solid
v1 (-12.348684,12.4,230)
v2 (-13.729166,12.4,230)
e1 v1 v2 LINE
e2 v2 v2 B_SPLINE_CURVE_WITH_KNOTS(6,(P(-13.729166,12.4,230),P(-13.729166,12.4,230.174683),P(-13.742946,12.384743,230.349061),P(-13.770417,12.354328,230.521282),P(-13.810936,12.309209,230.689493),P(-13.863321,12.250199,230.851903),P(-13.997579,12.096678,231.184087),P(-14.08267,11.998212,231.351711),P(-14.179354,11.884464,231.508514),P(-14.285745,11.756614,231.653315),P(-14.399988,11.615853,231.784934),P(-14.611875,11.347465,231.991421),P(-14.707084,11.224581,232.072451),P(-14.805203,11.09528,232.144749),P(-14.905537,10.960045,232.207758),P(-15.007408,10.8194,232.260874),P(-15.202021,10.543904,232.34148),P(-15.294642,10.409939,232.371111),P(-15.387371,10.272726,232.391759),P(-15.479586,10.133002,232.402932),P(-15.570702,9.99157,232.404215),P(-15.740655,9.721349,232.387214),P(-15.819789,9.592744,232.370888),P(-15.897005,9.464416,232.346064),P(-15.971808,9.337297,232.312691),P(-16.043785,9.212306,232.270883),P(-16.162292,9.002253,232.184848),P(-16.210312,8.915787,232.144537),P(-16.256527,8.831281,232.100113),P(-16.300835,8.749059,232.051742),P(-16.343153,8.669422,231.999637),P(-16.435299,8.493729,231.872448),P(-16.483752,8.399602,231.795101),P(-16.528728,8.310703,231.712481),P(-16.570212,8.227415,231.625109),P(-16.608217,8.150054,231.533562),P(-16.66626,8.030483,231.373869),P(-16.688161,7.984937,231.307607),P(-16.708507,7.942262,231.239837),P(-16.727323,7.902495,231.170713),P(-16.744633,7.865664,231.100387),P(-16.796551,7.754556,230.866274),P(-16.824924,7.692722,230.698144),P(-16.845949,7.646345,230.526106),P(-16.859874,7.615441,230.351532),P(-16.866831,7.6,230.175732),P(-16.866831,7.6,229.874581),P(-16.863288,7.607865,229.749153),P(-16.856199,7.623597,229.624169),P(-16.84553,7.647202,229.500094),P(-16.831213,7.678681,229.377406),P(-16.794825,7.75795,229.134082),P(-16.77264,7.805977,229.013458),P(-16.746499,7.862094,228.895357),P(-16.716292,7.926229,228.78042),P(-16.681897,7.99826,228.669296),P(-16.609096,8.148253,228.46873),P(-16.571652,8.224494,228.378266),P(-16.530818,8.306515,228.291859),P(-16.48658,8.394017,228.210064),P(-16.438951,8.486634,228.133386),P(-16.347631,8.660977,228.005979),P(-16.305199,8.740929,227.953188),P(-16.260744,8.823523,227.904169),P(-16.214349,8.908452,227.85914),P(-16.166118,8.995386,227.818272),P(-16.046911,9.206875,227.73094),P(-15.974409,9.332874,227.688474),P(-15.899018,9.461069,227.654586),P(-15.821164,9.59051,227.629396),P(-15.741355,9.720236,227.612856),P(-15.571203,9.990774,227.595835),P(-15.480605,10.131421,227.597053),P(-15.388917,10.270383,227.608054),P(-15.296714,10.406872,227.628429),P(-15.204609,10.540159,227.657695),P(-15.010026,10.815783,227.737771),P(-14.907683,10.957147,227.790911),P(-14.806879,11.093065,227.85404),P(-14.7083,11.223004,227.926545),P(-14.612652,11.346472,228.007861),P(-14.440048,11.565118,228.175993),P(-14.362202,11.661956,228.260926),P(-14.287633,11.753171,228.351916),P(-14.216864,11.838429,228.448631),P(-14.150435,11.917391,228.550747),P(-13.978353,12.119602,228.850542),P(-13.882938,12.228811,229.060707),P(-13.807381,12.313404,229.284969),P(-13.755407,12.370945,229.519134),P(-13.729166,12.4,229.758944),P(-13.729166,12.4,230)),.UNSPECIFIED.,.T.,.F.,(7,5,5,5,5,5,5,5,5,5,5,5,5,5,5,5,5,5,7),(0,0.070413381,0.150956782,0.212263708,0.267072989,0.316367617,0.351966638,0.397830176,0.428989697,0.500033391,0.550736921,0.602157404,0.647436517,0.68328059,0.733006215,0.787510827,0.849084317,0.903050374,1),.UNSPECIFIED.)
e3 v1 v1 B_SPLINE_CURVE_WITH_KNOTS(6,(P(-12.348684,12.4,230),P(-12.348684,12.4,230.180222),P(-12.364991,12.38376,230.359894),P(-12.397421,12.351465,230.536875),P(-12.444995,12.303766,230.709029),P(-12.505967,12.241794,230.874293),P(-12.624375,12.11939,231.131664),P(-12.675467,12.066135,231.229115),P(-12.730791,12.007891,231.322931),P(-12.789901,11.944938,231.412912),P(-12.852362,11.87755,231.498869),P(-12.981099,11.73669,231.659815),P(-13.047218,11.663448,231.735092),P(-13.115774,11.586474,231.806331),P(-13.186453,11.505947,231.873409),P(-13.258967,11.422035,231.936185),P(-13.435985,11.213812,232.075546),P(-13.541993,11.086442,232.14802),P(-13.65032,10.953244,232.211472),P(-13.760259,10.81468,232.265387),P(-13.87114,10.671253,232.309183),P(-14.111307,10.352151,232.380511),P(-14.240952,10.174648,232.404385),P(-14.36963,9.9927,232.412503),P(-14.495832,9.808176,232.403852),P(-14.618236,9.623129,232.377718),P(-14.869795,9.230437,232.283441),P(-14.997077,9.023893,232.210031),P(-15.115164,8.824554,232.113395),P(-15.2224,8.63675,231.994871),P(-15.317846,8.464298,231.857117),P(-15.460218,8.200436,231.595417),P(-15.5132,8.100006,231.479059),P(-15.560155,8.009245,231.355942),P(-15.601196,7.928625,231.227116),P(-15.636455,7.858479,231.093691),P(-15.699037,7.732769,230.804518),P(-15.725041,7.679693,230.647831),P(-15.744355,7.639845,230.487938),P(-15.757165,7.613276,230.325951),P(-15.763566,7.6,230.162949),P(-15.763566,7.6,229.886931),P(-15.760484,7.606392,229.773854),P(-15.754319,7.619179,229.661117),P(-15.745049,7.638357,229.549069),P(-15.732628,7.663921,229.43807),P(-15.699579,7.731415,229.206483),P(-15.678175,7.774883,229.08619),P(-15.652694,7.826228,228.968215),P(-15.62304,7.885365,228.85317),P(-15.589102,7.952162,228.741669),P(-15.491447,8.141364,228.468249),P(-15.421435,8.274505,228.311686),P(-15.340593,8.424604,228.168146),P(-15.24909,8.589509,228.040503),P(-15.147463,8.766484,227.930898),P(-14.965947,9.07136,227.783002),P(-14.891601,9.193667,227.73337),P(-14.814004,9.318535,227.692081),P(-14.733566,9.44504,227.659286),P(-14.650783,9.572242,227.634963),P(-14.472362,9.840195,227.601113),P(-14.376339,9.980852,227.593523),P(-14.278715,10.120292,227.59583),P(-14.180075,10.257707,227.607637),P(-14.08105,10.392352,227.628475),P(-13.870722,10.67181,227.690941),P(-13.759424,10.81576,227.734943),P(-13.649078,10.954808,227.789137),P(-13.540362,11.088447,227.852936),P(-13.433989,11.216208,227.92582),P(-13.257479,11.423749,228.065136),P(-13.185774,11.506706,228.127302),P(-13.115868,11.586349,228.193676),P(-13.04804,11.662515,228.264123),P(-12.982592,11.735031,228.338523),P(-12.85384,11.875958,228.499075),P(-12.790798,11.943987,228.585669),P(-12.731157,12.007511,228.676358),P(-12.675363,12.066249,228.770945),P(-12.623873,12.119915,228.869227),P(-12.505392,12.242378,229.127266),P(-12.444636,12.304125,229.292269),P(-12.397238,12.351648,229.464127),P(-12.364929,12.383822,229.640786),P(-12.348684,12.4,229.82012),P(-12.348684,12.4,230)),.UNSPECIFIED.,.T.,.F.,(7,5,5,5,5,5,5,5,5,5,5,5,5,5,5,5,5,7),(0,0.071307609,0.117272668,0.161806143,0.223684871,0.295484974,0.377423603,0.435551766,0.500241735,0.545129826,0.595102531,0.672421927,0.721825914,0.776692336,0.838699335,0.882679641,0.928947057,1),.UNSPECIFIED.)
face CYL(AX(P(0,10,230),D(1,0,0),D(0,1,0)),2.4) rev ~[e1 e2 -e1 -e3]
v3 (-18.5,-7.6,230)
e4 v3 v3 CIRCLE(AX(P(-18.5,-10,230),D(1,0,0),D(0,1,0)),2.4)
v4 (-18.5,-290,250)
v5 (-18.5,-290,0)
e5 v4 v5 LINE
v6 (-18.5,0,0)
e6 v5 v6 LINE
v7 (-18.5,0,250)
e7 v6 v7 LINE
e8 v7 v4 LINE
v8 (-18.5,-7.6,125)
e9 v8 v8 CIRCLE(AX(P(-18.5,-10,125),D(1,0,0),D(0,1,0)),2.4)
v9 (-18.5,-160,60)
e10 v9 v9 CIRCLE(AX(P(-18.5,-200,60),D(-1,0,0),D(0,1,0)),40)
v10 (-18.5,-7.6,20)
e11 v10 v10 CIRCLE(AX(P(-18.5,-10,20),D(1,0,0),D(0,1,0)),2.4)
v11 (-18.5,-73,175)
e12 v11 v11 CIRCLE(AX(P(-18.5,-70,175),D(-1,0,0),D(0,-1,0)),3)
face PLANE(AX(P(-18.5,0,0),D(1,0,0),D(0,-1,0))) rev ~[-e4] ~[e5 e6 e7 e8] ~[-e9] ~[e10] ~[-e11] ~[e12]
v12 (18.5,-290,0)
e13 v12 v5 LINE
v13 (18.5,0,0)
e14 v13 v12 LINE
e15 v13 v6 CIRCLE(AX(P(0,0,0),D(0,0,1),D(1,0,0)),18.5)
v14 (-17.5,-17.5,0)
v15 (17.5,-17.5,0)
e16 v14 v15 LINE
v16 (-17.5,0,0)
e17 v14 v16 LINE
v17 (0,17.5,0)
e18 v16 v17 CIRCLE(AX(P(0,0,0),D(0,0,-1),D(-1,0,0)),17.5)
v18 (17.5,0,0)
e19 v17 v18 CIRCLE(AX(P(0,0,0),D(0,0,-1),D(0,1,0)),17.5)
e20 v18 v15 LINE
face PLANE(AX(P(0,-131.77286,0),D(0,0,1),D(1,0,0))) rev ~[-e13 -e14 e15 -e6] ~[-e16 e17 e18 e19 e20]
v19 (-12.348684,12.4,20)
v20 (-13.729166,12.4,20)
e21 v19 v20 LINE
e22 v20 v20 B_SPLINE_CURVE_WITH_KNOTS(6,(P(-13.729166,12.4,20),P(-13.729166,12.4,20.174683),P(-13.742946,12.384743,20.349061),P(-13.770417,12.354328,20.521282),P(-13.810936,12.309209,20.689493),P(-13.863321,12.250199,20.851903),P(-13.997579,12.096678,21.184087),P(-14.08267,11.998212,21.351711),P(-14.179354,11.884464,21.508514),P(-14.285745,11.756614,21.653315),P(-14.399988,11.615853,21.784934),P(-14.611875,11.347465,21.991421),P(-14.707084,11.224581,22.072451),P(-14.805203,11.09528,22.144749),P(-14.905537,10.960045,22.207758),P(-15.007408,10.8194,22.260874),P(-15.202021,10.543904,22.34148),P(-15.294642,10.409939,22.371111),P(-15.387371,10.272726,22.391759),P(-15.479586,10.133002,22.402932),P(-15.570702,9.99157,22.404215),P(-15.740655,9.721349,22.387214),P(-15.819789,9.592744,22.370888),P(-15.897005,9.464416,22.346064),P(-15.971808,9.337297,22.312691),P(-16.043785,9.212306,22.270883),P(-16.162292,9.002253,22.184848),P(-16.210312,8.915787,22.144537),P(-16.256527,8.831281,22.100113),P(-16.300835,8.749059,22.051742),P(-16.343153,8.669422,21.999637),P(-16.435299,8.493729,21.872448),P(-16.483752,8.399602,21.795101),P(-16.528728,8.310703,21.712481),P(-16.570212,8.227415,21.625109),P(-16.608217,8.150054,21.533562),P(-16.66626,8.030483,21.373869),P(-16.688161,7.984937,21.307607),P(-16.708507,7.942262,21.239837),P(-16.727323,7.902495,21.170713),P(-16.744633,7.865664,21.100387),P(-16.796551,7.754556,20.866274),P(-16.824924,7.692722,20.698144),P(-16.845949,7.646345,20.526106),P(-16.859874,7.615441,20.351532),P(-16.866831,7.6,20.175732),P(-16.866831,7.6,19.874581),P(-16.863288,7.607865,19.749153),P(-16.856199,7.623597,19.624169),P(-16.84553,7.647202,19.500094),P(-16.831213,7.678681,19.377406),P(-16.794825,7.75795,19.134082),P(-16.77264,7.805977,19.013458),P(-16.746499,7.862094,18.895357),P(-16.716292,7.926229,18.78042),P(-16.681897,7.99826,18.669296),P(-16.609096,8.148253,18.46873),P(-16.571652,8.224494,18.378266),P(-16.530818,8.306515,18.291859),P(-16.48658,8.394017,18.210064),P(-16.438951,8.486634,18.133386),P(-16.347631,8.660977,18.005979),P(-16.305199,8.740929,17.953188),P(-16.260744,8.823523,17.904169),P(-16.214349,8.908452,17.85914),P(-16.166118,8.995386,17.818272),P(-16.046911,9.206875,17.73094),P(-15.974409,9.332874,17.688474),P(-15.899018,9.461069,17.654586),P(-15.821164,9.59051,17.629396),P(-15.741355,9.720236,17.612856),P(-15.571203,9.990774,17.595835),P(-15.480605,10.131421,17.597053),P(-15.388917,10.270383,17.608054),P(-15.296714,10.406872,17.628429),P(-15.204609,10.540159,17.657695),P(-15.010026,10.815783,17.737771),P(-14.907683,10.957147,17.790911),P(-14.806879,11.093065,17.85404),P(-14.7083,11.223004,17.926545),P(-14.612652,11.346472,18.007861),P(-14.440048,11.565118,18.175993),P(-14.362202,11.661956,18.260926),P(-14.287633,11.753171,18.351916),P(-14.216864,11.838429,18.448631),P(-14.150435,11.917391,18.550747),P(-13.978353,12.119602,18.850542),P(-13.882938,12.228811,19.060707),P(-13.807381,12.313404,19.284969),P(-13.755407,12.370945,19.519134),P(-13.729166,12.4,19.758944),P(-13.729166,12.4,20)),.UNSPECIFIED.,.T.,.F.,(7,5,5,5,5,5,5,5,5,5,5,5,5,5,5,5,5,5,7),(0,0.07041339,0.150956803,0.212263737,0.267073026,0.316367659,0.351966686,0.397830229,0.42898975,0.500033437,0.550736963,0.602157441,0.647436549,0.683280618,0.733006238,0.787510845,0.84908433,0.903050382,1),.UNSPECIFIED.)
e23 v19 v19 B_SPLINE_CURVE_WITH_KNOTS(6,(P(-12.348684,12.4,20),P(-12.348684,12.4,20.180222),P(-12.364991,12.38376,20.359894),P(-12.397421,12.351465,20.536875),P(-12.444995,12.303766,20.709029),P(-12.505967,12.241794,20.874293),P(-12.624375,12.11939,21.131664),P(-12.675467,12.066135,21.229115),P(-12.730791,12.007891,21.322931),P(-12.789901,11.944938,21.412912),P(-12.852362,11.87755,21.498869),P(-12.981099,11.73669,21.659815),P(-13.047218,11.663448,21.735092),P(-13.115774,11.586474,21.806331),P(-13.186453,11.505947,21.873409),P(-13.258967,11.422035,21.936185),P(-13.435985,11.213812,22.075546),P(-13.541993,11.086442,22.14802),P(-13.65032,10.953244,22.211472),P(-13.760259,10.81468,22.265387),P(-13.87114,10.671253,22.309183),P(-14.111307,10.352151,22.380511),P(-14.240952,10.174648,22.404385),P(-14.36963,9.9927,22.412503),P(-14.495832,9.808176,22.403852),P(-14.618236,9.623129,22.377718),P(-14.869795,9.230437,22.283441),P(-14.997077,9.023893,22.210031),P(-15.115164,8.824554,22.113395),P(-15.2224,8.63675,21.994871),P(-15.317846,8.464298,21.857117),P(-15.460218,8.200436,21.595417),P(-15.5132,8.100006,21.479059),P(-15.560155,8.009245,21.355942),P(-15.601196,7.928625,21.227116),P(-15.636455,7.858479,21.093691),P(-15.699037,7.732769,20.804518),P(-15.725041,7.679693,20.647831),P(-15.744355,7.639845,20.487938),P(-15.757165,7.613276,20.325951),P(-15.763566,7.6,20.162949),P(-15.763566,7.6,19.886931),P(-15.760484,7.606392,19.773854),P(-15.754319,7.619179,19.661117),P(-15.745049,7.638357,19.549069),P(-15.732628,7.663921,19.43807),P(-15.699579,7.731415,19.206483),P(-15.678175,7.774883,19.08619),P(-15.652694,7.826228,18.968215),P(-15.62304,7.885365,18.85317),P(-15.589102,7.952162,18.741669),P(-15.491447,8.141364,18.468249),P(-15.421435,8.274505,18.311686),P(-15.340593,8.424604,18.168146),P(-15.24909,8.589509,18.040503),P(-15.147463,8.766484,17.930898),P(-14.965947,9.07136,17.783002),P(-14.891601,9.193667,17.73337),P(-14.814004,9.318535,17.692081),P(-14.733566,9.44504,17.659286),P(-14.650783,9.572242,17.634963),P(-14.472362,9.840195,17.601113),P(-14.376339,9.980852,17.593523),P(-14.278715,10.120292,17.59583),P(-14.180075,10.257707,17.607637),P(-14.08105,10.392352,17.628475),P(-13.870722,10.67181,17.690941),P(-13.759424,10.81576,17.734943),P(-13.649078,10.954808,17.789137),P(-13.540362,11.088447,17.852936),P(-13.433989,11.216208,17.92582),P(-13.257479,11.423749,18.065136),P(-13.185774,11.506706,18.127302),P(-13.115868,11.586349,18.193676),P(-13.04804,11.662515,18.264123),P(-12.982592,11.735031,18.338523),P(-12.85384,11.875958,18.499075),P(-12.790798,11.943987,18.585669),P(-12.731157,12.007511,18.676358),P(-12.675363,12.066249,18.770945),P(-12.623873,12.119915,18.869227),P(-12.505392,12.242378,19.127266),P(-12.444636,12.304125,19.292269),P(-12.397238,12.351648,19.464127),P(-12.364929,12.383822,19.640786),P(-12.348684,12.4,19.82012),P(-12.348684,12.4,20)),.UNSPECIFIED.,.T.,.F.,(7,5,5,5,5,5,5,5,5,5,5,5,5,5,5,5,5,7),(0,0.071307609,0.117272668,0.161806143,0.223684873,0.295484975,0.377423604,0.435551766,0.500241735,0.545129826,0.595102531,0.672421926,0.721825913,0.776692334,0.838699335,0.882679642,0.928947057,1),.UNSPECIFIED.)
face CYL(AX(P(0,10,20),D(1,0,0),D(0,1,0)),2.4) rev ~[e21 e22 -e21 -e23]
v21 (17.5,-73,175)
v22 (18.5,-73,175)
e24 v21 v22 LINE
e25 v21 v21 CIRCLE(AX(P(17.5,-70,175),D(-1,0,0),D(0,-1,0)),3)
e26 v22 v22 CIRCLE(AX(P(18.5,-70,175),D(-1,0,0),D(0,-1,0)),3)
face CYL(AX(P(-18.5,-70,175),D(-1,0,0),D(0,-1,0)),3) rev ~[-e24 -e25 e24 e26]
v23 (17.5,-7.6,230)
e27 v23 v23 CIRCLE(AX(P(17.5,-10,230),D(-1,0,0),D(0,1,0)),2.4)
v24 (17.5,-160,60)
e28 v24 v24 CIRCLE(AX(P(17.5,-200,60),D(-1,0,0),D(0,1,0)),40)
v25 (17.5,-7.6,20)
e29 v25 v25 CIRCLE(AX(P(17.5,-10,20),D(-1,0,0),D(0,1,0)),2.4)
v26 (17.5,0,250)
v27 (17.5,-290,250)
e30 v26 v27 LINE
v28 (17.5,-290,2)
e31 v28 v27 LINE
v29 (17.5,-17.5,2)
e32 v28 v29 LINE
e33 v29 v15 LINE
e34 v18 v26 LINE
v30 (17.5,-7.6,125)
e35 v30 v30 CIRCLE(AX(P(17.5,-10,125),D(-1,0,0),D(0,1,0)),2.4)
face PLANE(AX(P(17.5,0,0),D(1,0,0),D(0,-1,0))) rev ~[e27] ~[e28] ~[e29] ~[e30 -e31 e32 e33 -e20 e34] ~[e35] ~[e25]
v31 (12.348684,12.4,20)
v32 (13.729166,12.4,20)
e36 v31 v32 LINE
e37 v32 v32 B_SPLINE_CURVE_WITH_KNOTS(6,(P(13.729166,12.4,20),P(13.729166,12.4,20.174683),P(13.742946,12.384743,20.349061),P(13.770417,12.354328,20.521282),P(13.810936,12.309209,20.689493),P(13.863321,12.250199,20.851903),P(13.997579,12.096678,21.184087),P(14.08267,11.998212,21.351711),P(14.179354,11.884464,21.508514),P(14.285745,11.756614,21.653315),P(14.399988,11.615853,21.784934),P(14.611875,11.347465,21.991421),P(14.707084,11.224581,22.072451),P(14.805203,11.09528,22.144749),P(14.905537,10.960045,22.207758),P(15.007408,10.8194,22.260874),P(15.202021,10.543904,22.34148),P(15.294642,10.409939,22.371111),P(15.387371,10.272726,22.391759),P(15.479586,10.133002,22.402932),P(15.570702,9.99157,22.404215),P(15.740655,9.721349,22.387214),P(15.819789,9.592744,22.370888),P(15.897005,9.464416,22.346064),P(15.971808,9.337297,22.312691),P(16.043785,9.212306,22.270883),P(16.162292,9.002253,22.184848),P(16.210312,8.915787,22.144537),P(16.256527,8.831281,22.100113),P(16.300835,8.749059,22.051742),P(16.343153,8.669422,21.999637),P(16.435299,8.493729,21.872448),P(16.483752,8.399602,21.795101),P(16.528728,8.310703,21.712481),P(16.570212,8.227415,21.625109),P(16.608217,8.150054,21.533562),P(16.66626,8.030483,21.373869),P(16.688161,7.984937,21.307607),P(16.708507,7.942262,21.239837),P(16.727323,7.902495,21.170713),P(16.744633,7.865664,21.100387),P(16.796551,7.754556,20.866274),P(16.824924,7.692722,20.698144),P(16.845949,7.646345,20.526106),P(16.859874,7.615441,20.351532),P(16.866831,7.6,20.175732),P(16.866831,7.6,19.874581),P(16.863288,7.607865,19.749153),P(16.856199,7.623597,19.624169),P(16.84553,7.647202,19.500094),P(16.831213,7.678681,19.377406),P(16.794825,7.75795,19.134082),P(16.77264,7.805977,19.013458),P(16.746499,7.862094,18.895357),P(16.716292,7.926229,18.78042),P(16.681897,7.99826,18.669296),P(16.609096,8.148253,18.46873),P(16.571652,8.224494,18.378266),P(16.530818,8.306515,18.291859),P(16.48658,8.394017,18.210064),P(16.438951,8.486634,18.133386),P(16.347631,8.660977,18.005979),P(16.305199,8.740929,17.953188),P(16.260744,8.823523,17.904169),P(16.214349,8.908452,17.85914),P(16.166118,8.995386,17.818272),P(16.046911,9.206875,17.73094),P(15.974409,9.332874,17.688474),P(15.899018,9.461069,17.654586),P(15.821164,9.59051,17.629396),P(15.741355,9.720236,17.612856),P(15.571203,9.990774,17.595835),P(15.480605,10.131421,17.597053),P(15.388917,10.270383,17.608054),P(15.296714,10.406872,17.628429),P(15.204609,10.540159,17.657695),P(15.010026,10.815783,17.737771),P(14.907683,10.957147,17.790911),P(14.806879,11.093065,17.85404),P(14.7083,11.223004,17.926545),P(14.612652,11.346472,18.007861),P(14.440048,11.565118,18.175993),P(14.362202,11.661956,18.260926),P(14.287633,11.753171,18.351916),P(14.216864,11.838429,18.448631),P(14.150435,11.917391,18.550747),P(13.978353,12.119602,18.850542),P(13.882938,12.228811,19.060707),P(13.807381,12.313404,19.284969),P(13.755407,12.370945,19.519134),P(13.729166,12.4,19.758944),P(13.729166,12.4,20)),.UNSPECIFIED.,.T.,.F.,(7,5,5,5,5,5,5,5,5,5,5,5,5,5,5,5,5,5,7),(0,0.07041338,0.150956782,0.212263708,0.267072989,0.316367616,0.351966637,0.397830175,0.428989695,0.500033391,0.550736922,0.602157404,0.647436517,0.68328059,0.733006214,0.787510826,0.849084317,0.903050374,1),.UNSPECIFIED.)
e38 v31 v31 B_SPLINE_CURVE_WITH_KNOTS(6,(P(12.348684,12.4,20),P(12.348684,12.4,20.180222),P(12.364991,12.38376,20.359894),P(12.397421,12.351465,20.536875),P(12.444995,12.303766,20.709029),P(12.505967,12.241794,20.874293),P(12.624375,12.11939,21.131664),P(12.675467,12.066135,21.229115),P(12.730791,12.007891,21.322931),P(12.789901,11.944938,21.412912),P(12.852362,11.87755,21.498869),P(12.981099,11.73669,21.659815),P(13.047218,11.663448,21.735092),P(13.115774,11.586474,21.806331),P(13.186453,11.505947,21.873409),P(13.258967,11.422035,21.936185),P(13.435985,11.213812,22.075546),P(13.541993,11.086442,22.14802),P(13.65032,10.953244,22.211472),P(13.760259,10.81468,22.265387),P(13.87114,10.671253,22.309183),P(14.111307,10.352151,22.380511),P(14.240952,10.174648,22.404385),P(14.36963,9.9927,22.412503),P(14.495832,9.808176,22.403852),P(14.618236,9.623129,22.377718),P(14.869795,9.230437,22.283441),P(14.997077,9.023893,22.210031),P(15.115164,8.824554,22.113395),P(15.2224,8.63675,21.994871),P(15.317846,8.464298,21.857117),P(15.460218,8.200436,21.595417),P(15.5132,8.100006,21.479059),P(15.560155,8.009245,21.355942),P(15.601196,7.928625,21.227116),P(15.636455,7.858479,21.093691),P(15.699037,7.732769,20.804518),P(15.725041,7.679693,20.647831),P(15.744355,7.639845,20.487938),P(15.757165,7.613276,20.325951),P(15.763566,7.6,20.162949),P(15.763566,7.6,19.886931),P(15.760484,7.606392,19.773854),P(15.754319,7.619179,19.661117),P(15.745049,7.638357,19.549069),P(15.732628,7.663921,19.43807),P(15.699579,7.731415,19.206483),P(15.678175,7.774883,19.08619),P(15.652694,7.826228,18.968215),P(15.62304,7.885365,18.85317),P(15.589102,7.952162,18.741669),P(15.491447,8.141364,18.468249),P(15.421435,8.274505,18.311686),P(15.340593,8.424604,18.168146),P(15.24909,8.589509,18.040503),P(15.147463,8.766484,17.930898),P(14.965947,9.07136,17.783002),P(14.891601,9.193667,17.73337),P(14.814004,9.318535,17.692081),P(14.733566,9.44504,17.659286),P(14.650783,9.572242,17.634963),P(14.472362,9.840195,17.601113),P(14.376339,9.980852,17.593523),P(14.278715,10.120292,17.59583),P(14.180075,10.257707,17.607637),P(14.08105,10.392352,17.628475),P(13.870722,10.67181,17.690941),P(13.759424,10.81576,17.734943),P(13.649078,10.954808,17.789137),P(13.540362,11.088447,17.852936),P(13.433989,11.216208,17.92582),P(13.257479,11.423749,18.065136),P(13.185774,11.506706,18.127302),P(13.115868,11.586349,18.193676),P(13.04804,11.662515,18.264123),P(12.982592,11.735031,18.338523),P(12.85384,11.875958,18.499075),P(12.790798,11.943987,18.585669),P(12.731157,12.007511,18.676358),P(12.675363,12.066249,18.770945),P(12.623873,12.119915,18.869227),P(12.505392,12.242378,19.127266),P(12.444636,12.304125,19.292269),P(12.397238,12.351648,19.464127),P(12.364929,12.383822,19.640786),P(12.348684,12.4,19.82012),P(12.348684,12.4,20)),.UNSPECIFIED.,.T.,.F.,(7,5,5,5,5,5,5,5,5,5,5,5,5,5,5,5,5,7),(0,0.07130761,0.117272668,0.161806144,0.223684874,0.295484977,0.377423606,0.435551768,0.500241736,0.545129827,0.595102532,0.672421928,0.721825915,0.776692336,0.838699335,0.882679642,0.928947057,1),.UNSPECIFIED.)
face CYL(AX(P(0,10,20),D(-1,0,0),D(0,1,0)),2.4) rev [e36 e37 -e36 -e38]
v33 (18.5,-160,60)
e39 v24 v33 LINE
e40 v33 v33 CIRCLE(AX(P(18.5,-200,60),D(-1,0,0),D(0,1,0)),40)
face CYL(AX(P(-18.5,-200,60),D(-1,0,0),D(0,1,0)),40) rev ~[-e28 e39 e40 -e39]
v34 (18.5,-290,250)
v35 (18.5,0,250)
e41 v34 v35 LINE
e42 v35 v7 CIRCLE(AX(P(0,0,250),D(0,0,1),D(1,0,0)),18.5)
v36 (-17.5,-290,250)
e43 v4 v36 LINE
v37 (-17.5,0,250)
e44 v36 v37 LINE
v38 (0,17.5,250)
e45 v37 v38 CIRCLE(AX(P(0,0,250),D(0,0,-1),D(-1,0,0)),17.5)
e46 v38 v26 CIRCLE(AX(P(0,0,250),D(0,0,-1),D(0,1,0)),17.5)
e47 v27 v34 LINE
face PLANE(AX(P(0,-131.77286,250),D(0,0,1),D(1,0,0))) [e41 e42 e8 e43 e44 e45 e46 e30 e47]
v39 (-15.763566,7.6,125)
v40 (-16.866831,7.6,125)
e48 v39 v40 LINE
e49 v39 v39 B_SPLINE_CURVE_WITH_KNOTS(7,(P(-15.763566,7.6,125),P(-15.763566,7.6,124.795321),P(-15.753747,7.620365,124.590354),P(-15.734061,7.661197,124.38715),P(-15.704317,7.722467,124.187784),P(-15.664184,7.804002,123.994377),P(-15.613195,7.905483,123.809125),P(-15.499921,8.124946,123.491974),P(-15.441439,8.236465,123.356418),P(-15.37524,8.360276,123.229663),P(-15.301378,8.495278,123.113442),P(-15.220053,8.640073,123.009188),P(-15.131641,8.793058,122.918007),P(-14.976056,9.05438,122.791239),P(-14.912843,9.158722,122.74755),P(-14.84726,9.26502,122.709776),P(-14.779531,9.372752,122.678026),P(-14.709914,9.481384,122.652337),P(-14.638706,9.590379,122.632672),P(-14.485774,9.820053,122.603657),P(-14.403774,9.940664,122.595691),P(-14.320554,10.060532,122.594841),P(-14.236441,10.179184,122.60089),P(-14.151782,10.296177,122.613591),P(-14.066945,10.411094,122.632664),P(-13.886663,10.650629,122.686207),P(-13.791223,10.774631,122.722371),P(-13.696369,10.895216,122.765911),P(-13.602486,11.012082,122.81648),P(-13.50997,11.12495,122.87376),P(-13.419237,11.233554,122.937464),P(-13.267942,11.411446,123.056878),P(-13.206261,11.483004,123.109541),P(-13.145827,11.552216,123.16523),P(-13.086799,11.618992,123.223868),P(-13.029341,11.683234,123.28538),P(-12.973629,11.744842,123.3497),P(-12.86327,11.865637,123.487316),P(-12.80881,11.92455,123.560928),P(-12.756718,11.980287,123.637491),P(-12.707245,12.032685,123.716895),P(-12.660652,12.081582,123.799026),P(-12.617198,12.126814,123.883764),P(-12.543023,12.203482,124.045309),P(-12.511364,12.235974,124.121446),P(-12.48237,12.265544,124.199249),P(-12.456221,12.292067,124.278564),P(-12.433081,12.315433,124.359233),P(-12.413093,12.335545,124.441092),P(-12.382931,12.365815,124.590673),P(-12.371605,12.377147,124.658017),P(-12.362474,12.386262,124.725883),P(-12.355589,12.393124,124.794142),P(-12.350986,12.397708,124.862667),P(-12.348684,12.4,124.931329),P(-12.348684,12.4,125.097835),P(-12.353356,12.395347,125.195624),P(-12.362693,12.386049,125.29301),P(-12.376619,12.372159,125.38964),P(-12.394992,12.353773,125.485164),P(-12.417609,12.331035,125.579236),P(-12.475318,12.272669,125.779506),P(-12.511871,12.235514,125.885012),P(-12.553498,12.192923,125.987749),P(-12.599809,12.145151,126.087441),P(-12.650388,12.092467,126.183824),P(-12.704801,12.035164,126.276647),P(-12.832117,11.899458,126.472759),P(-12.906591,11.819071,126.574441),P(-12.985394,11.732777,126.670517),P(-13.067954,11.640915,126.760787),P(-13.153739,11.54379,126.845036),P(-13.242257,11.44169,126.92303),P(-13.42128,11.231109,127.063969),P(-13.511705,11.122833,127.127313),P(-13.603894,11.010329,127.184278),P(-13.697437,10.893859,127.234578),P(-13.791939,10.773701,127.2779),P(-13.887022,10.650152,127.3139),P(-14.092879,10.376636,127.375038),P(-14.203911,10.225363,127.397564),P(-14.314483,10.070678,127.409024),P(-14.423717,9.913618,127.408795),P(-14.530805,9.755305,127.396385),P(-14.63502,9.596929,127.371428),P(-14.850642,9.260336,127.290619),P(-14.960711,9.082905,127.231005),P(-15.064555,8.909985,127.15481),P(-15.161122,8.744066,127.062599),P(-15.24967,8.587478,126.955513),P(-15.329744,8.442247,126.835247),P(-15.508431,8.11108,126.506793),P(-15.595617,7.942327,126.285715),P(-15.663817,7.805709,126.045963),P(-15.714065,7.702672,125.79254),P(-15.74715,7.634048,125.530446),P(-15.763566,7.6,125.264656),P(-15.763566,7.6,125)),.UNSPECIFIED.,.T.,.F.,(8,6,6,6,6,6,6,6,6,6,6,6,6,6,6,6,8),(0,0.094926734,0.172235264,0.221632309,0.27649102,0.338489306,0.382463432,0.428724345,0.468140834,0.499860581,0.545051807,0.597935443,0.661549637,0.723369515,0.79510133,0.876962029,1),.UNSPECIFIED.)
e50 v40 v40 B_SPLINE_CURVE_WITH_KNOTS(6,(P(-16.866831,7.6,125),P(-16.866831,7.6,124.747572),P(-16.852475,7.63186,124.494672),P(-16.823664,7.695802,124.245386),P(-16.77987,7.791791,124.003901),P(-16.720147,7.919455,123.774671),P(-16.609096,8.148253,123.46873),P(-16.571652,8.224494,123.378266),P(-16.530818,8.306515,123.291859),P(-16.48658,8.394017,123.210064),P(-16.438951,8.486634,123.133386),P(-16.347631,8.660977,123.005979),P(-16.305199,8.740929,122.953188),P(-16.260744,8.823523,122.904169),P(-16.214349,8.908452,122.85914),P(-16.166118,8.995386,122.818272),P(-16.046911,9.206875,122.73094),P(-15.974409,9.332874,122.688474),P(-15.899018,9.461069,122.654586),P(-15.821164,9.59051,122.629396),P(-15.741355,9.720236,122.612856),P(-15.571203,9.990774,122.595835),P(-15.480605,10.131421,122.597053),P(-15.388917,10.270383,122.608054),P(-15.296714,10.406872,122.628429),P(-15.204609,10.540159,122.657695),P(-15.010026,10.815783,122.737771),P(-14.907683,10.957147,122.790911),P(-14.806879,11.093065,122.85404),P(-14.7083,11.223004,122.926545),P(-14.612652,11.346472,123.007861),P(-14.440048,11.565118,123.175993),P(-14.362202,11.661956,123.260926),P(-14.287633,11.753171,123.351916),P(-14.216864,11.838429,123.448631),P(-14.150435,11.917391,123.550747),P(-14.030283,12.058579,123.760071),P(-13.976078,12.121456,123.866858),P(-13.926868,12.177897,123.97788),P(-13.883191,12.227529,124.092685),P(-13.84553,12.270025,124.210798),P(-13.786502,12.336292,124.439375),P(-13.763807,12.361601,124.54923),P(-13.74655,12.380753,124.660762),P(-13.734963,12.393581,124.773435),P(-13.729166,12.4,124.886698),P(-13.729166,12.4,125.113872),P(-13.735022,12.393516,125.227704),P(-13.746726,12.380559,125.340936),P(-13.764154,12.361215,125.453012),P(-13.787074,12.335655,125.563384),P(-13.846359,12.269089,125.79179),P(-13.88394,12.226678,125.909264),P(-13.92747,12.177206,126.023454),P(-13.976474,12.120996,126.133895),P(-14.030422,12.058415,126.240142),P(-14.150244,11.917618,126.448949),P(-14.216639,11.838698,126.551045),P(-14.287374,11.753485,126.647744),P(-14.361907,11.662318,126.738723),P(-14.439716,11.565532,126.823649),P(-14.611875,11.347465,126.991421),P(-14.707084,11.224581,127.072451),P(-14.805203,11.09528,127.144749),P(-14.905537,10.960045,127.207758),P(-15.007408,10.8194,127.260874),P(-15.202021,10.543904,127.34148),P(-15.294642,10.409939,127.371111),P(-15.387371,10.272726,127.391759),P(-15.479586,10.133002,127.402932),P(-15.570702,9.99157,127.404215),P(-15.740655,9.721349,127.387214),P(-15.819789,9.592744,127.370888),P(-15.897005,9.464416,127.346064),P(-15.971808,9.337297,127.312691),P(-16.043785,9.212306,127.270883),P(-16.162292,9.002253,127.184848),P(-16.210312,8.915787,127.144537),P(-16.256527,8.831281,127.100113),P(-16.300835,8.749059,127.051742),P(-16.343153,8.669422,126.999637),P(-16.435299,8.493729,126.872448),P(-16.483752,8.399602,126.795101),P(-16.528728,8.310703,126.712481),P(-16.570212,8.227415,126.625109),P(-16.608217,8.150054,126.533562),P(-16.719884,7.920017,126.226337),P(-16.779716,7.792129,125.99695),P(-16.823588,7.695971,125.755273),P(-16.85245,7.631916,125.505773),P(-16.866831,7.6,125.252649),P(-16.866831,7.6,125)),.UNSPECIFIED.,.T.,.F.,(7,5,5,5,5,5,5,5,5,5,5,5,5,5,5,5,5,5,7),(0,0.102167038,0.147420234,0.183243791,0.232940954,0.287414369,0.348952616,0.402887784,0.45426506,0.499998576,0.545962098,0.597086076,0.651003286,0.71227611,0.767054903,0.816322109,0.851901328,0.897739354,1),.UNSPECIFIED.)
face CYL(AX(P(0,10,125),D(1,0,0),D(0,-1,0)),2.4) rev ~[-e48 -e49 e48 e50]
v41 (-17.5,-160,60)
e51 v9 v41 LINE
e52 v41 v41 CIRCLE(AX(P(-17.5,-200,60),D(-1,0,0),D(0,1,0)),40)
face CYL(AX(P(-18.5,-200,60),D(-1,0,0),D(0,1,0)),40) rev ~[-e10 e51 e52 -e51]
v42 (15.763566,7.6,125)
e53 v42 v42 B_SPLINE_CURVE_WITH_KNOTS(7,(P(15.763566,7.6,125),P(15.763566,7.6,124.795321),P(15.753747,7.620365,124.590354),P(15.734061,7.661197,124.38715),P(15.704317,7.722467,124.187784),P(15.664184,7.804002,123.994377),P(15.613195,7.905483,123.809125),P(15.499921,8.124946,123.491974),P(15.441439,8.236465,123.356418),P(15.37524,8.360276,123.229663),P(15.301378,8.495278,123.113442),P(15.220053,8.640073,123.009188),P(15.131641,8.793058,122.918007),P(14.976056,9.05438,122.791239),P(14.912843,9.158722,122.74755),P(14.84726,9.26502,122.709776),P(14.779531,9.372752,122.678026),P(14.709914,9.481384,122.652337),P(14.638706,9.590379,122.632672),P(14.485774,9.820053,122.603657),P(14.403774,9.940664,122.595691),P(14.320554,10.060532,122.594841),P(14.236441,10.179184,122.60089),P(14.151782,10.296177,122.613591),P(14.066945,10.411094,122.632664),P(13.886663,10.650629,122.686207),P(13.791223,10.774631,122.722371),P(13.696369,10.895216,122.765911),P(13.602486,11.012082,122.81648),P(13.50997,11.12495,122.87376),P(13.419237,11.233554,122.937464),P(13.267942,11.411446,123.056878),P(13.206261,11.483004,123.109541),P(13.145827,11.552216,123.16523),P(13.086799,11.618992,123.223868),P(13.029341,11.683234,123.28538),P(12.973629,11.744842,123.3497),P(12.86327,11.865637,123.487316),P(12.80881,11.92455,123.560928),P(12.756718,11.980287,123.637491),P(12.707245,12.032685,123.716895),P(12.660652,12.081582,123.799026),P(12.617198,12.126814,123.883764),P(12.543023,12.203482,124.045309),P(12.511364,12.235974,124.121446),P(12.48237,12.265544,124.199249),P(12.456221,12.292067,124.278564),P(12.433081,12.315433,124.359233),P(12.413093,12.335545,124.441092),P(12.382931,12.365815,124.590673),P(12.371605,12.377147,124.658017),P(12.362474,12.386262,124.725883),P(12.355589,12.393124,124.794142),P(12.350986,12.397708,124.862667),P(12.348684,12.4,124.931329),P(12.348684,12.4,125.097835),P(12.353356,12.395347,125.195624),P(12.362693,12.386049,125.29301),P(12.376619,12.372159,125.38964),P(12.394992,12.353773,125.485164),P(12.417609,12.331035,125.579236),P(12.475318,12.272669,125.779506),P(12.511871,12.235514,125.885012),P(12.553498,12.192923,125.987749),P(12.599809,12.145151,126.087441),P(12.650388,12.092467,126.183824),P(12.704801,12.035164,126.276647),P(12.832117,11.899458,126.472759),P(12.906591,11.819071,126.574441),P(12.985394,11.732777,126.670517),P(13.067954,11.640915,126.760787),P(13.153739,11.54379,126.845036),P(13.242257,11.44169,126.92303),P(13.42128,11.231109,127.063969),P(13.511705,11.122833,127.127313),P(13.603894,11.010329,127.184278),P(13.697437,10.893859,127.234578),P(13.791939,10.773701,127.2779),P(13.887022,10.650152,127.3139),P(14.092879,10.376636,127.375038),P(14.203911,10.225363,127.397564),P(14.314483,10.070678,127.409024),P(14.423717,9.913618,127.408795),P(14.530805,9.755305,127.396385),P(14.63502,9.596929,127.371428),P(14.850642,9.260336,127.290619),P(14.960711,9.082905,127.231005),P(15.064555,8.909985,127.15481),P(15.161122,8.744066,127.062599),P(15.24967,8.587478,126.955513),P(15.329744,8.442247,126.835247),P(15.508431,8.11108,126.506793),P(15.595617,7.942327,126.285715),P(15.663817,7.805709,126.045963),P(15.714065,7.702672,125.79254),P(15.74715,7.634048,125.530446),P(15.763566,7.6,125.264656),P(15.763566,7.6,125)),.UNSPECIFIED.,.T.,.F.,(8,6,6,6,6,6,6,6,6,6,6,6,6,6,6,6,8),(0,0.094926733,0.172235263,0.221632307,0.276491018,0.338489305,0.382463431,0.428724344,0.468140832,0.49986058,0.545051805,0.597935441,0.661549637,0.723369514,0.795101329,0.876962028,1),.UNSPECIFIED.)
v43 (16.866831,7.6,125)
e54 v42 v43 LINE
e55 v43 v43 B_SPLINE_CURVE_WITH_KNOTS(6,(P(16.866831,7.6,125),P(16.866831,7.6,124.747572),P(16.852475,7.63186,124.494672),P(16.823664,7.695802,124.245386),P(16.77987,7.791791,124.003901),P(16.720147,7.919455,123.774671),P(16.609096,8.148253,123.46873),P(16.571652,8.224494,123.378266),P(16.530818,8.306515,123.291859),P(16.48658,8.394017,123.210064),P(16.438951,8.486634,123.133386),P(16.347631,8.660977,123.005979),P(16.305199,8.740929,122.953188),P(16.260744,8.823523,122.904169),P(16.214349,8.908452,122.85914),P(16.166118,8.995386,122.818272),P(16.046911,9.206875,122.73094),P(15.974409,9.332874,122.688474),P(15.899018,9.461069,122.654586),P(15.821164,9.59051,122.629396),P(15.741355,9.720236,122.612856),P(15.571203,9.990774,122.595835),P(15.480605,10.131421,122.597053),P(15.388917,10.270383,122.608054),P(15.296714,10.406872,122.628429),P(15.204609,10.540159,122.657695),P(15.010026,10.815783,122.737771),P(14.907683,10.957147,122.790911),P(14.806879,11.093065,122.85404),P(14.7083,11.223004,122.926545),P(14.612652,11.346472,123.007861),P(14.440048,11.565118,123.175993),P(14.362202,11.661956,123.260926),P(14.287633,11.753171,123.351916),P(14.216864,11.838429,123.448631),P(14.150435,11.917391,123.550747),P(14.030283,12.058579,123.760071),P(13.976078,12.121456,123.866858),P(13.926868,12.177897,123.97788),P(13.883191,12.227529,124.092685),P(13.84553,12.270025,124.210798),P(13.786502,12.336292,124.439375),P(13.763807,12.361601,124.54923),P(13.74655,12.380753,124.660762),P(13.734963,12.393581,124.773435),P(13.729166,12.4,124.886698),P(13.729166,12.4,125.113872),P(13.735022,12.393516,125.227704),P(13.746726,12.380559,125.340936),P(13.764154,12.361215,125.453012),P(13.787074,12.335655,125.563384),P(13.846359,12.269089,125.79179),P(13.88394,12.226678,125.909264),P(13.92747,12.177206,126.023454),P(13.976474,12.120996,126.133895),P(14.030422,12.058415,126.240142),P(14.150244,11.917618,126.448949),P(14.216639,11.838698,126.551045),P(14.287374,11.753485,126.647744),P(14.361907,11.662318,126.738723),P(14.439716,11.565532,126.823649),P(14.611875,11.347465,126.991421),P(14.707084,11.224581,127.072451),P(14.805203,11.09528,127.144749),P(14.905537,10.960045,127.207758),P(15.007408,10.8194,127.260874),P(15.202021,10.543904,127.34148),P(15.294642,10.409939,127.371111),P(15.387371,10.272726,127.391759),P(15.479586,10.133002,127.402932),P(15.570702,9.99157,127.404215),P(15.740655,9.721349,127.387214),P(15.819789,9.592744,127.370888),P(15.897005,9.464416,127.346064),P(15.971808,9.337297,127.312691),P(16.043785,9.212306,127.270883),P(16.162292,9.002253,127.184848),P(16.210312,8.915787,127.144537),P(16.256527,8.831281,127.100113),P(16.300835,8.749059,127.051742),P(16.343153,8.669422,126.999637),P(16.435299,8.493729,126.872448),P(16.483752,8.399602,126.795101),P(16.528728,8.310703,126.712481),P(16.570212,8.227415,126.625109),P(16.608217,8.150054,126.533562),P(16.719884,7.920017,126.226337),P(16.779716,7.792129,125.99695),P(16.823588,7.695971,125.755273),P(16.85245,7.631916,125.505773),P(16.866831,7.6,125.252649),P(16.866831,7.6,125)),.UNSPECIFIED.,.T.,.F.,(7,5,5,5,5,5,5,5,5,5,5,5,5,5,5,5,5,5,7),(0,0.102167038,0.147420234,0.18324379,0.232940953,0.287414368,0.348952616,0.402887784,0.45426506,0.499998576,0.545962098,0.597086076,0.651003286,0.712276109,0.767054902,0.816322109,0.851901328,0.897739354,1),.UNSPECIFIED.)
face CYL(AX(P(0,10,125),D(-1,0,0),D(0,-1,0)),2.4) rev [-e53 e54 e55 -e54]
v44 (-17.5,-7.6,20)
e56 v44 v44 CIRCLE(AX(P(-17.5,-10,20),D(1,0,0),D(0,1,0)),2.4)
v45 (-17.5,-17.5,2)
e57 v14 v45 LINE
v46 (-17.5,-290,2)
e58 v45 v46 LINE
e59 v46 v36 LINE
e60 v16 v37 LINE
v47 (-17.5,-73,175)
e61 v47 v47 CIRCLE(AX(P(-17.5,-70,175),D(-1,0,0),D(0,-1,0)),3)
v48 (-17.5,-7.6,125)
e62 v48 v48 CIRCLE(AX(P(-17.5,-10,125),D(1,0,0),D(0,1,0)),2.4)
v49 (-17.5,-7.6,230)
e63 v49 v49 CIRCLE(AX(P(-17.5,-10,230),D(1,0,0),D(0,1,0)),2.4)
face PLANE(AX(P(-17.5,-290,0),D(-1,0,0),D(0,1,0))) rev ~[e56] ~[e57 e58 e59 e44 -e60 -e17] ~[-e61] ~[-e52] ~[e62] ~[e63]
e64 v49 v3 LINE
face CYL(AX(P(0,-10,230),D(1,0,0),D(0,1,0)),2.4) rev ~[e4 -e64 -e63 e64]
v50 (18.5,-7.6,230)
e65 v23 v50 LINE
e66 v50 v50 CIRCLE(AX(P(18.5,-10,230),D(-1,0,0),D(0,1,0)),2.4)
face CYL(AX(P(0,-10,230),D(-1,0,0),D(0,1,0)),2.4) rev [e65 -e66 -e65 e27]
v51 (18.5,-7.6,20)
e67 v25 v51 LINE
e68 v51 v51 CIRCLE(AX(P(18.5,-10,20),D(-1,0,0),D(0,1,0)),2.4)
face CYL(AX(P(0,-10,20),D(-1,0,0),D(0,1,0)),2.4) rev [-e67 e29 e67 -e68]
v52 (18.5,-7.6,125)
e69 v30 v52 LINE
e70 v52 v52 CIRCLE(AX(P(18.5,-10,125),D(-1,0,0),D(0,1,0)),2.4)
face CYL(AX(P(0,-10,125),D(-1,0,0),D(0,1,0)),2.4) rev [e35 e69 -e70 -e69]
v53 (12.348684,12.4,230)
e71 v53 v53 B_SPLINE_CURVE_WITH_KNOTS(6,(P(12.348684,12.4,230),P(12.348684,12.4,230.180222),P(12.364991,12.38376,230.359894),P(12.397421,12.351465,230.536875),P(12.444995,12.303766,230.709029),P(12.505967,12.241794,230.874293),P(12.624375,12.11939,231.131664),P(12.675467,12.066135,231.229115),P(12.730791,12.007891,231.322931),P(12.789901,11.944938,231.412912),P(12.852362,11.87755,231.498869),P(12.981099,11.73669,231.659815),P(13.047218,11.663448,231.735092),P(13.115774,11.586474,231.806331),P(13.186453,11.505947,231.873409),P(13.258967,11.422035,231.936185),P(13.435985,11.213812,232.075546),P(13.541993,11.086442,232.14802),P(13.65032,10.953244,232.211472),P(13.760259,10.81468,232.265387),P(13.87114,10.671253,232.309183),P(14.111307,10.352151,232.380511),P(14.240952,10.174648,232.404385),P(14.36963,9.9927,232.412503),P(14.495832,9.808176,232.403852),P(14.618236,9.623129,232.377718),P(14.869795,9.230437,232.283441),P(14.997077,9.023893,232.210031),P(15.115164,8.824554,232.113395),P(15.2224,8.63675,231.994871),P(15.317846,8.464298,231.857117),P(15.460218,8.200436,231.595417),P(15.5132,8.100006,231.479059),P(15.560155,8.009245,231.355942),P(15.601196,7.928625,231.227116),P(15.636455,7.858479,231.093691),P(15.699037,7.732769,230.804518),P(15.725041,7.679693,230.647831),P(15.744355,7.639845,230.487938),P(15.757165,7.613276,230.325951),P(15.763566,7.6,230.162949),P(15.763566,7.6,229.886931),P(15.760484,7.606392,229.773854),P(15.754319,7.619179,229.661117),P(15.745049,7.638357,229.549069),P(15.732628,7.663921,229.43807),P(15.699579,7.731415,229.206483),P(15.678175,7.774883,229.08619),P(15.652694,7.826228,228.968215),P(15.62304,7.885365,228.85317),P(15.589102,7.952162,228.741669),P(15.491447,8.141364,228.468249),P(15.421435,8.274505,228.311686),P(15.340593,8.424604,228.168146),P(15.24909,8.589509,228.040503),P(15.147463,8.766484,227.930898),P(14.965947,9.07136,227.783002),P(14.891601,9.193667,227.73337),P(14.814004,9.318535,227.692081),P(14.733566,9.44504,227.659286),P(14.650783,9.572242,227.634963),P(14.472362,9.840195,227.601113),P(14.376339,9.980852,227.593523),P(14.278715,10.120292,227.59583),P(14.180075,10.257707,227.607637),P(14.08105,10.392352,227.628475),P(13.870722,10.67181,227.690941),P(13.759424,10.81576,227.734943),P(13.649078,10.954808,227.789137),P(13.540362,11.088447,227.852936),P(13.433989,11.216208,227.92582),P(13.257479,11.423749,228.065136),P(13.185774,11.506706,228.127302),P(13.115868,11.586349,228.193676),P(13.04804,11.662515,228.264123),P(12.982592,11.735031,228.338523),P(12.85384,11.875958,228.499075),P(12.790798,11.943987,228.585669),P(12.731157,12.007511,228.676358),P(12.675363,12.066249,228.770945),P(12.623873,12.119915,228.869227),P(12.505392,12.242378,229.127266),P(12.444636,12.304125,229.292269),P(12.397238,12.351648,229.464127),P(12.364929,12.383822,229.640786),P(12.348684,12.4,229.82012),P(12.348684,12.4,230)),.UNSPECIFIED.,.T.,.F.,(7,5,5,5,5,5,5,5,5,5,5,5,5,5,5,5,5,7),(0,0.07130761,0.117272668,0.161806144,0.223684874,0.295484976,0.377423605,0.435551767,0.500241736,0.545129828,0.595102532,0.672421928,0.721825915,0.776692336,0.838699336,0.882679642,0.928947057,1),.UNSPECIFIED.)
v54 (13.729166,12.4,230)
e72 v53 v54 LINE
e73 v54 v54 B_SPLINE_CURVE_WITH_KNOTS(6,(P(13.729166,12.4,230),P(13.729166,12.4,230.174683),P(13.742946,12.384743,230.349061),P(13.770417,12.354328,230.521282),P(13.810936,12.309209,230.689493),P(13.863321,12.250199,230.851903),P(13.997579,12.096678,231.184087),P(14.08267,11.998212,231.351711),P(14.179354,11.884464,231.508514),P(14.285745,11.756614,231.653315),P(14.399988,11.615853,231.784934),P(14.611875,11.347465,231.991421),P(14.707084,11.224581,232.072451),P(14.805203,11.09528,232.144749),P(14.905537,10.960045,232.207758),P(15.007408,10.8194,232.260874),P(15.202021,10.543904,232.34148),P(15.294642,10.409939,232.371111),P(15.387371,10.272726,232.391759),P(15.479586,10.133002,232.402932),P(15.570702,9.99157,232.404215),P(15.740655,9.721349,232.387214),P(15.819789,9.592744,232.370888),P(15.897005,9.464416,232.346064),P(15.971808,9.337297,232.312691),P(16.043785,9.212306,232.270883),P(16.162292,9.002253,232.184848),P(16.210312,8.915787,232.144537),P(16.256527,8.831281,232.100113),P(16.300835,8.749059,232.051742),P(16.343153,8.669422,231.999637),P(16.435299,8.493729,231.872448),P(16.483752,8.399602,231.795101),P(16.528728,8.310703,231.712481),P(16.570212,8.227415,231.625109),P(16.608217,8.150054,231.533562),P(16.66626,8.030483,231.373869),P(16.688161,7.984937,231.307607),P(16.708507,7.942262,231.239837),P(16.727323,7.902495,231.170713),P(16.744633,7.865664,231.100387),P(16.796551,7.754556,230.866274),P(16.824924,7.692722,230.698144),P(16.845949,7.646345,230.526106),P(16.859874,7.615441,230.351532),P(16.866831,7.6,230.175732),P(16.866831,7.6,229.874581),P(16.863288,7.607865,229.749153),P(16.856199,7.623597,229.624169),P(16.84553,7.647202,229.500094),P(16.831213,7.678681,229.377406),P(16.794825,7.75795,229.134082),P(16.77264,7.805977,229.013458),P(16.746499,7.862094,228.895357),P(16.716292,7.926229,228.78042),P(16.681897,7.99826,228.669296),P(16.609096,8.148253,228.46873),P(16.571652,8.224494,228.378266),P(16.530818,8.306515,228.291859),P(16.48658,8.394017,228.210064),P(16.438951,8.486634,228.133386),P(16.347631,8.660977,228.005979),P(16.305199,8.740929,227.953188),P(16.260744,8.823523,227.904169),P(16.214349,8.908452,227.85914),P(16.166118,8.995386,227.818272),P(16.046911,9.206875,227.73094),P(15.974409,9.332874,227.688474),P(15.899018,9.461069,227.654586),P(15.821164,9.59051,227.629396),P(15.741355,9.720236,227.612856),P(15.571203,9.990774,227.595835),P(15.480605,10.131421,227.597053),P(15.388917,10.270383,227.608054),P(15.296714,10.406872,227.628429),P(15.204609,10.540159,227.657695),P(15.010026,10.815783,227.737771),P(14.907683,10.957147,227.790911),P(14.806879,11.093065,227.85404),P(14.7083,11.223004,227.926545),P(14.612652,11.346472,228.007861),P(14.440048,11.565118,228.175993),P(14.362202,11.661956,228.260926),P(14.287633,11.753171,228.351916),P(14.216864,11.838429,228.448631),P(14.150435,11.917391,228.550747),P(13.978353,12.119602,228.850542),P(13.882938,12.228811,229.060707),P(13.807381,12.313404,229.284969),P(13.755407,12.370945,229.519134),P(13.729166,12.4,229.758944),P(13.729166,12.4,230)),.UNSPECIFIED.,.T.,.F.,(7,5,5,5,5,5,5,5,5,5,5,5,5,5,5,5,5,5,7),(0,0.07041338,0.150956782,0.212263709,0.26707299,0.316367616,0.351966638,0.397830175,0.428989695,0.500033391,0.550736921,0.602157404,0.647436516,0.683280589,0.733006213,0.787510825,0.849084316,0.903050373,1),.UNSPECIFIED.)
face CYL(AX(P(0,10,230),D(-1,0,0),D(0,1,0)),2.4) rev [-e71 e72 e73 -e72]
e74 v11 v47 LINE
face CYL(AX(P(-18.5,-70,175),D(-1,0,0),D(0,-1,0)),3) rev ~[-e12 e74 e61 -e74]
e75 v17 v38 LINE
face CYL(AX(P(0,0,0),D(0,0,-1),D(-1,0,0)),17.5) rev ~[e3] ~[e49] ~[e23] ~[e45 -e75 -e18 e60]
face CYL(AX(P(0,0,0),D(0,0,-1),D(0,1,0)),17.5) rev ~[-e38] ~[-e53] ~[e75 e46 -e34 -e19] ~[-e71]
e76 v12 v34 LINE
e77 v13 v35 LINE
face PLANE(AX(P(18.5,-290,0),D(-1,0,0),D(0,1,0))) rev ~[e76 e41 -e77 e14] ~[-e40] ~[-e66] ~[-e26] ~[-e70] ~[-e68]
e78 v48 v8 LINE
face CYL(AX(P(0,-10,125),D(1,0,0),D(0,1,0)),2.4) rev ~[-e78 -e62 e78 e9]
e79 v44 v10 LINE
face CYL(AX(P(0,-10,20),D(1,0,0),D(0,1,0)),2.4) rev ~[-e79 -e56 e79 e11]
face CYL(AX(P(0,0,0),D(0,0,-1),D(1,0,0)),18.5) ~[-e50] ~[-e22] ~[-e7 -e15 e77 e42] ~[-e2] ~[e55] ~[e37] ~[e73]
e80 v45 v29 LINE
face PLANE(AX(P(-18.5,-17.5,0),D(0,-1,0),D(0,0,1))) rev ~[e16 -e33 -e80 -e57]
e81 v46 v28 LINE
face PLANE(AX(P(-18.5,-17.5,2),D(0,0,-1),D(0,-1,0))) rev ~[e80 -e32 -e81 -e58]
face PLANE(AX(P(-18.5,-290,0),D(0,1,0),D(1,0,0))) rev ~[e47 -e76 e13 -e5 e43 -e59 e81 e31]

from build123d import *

# Parameters (mm, degrees)
F1_DEPTH      = 250
F2_W          = 272.5
F2_H          = 2
F3_DEPTH      = 37
F5_DEPTH      = 37.001
F6_R          = 2.4
F7_DEPTH      = 25
F7_DEPTH_BACK = 25


with BuildPart() as f1:
    # F0 (on Top) → F1 (new body)
    with BuildSketch(Plane.XY):
        with BuildLine():
            Line((18.5, -290), (18.5, 0))
            ThreePointArc((18.5, 0), (0, 18.5), (-18.5, 0))
            Line((-18.5, 0), (-18.5, -290))
            Line((-18.5, -290), (-17.5, -290))
            Line((-17.5, -290), (-17.5, 0))
            ThreePointArc((-17.5, 0), (-12.3743686708, 12.3743686708), (0, 17.5))
            ThreePointArc((0, 17.5), (12.3743686708, 12.3743686708), (17.5, 0))
            Line((17.5, 0), (17.5, -290))
            Line((17.5, -290), (18.5, -290))
        make_face()
    extrude(amount=F1_DEPTH)

    # F2 (on face) → F3 (join)
    with BuildSketch(Plane(origin=(-18.5, 0, 0), x_dir=(0, -1, 0), z_dir=(-1, 0, 0))):
        with Locations((153.75, 1)):
            Rectangle(F2_W, F2_H)
    extrude(amount=-F3_DEPTH)

    # F4 (on face) → F5 (cut, through all)
    with BuildSketch(Plane(origin=(-18.5, 0, 0), x_dir=(0, -1, 0), z_dir=(-1, 0, 0))):
        with BuildLine():
            ThreePointArc((240, 60), (200, 100), (160, 60))
            Line((160, 60), (240, 60))
        make_face()
        with BuildLine():
            Line((240, 60), (160, 60))
            ThreePointArc((160, 60), (200, 20), (240, 60))
        make_face()
        with BuildLine():
            ThreePointArc((67, 175), (70, 172), (73, 175))
            Line((73, 175), (67, 175))
        make_face()
        with BuildLine():
            Line((67, 175), (73, 175))
            ThreePointArc((73, 175), (70, 178), (67, 175))
        make_face()
    extrude(amount=-F5_DEPTH, mode=Mode.SUBTRACT)

    # F6 (on Right) → F7 (cut, two sides)
    with BuildSketch(Plane.YZ) as f7_sk:
        with Locations((-10, 20)):
            Circle(F6_R)
        with Locations((10, 20)):
            Circle(F6_R)
        with Locations((-10, 125)):
            Circle(F6_R)
        with BuildLine():
            ThreePointArc((12.4, 125), (10, 127.4), (7.6, 125))
            ThreePointArc((7.6, 125), (10, 122.6), (12.4, 125))
        make_face()
        with Locations((10, 230)):
            Circle(F6_R)
        with Locations((-10, 230)):
            Circle(F6_R)
    extrude(amount=-F7_DEPTH, mode=Mode.SUBTRACT)
    extrude(f7_sk.sketch, amount=F7_DEPTH_BACK, mode=Mode.SUBTRACT)


solid = f1.part
